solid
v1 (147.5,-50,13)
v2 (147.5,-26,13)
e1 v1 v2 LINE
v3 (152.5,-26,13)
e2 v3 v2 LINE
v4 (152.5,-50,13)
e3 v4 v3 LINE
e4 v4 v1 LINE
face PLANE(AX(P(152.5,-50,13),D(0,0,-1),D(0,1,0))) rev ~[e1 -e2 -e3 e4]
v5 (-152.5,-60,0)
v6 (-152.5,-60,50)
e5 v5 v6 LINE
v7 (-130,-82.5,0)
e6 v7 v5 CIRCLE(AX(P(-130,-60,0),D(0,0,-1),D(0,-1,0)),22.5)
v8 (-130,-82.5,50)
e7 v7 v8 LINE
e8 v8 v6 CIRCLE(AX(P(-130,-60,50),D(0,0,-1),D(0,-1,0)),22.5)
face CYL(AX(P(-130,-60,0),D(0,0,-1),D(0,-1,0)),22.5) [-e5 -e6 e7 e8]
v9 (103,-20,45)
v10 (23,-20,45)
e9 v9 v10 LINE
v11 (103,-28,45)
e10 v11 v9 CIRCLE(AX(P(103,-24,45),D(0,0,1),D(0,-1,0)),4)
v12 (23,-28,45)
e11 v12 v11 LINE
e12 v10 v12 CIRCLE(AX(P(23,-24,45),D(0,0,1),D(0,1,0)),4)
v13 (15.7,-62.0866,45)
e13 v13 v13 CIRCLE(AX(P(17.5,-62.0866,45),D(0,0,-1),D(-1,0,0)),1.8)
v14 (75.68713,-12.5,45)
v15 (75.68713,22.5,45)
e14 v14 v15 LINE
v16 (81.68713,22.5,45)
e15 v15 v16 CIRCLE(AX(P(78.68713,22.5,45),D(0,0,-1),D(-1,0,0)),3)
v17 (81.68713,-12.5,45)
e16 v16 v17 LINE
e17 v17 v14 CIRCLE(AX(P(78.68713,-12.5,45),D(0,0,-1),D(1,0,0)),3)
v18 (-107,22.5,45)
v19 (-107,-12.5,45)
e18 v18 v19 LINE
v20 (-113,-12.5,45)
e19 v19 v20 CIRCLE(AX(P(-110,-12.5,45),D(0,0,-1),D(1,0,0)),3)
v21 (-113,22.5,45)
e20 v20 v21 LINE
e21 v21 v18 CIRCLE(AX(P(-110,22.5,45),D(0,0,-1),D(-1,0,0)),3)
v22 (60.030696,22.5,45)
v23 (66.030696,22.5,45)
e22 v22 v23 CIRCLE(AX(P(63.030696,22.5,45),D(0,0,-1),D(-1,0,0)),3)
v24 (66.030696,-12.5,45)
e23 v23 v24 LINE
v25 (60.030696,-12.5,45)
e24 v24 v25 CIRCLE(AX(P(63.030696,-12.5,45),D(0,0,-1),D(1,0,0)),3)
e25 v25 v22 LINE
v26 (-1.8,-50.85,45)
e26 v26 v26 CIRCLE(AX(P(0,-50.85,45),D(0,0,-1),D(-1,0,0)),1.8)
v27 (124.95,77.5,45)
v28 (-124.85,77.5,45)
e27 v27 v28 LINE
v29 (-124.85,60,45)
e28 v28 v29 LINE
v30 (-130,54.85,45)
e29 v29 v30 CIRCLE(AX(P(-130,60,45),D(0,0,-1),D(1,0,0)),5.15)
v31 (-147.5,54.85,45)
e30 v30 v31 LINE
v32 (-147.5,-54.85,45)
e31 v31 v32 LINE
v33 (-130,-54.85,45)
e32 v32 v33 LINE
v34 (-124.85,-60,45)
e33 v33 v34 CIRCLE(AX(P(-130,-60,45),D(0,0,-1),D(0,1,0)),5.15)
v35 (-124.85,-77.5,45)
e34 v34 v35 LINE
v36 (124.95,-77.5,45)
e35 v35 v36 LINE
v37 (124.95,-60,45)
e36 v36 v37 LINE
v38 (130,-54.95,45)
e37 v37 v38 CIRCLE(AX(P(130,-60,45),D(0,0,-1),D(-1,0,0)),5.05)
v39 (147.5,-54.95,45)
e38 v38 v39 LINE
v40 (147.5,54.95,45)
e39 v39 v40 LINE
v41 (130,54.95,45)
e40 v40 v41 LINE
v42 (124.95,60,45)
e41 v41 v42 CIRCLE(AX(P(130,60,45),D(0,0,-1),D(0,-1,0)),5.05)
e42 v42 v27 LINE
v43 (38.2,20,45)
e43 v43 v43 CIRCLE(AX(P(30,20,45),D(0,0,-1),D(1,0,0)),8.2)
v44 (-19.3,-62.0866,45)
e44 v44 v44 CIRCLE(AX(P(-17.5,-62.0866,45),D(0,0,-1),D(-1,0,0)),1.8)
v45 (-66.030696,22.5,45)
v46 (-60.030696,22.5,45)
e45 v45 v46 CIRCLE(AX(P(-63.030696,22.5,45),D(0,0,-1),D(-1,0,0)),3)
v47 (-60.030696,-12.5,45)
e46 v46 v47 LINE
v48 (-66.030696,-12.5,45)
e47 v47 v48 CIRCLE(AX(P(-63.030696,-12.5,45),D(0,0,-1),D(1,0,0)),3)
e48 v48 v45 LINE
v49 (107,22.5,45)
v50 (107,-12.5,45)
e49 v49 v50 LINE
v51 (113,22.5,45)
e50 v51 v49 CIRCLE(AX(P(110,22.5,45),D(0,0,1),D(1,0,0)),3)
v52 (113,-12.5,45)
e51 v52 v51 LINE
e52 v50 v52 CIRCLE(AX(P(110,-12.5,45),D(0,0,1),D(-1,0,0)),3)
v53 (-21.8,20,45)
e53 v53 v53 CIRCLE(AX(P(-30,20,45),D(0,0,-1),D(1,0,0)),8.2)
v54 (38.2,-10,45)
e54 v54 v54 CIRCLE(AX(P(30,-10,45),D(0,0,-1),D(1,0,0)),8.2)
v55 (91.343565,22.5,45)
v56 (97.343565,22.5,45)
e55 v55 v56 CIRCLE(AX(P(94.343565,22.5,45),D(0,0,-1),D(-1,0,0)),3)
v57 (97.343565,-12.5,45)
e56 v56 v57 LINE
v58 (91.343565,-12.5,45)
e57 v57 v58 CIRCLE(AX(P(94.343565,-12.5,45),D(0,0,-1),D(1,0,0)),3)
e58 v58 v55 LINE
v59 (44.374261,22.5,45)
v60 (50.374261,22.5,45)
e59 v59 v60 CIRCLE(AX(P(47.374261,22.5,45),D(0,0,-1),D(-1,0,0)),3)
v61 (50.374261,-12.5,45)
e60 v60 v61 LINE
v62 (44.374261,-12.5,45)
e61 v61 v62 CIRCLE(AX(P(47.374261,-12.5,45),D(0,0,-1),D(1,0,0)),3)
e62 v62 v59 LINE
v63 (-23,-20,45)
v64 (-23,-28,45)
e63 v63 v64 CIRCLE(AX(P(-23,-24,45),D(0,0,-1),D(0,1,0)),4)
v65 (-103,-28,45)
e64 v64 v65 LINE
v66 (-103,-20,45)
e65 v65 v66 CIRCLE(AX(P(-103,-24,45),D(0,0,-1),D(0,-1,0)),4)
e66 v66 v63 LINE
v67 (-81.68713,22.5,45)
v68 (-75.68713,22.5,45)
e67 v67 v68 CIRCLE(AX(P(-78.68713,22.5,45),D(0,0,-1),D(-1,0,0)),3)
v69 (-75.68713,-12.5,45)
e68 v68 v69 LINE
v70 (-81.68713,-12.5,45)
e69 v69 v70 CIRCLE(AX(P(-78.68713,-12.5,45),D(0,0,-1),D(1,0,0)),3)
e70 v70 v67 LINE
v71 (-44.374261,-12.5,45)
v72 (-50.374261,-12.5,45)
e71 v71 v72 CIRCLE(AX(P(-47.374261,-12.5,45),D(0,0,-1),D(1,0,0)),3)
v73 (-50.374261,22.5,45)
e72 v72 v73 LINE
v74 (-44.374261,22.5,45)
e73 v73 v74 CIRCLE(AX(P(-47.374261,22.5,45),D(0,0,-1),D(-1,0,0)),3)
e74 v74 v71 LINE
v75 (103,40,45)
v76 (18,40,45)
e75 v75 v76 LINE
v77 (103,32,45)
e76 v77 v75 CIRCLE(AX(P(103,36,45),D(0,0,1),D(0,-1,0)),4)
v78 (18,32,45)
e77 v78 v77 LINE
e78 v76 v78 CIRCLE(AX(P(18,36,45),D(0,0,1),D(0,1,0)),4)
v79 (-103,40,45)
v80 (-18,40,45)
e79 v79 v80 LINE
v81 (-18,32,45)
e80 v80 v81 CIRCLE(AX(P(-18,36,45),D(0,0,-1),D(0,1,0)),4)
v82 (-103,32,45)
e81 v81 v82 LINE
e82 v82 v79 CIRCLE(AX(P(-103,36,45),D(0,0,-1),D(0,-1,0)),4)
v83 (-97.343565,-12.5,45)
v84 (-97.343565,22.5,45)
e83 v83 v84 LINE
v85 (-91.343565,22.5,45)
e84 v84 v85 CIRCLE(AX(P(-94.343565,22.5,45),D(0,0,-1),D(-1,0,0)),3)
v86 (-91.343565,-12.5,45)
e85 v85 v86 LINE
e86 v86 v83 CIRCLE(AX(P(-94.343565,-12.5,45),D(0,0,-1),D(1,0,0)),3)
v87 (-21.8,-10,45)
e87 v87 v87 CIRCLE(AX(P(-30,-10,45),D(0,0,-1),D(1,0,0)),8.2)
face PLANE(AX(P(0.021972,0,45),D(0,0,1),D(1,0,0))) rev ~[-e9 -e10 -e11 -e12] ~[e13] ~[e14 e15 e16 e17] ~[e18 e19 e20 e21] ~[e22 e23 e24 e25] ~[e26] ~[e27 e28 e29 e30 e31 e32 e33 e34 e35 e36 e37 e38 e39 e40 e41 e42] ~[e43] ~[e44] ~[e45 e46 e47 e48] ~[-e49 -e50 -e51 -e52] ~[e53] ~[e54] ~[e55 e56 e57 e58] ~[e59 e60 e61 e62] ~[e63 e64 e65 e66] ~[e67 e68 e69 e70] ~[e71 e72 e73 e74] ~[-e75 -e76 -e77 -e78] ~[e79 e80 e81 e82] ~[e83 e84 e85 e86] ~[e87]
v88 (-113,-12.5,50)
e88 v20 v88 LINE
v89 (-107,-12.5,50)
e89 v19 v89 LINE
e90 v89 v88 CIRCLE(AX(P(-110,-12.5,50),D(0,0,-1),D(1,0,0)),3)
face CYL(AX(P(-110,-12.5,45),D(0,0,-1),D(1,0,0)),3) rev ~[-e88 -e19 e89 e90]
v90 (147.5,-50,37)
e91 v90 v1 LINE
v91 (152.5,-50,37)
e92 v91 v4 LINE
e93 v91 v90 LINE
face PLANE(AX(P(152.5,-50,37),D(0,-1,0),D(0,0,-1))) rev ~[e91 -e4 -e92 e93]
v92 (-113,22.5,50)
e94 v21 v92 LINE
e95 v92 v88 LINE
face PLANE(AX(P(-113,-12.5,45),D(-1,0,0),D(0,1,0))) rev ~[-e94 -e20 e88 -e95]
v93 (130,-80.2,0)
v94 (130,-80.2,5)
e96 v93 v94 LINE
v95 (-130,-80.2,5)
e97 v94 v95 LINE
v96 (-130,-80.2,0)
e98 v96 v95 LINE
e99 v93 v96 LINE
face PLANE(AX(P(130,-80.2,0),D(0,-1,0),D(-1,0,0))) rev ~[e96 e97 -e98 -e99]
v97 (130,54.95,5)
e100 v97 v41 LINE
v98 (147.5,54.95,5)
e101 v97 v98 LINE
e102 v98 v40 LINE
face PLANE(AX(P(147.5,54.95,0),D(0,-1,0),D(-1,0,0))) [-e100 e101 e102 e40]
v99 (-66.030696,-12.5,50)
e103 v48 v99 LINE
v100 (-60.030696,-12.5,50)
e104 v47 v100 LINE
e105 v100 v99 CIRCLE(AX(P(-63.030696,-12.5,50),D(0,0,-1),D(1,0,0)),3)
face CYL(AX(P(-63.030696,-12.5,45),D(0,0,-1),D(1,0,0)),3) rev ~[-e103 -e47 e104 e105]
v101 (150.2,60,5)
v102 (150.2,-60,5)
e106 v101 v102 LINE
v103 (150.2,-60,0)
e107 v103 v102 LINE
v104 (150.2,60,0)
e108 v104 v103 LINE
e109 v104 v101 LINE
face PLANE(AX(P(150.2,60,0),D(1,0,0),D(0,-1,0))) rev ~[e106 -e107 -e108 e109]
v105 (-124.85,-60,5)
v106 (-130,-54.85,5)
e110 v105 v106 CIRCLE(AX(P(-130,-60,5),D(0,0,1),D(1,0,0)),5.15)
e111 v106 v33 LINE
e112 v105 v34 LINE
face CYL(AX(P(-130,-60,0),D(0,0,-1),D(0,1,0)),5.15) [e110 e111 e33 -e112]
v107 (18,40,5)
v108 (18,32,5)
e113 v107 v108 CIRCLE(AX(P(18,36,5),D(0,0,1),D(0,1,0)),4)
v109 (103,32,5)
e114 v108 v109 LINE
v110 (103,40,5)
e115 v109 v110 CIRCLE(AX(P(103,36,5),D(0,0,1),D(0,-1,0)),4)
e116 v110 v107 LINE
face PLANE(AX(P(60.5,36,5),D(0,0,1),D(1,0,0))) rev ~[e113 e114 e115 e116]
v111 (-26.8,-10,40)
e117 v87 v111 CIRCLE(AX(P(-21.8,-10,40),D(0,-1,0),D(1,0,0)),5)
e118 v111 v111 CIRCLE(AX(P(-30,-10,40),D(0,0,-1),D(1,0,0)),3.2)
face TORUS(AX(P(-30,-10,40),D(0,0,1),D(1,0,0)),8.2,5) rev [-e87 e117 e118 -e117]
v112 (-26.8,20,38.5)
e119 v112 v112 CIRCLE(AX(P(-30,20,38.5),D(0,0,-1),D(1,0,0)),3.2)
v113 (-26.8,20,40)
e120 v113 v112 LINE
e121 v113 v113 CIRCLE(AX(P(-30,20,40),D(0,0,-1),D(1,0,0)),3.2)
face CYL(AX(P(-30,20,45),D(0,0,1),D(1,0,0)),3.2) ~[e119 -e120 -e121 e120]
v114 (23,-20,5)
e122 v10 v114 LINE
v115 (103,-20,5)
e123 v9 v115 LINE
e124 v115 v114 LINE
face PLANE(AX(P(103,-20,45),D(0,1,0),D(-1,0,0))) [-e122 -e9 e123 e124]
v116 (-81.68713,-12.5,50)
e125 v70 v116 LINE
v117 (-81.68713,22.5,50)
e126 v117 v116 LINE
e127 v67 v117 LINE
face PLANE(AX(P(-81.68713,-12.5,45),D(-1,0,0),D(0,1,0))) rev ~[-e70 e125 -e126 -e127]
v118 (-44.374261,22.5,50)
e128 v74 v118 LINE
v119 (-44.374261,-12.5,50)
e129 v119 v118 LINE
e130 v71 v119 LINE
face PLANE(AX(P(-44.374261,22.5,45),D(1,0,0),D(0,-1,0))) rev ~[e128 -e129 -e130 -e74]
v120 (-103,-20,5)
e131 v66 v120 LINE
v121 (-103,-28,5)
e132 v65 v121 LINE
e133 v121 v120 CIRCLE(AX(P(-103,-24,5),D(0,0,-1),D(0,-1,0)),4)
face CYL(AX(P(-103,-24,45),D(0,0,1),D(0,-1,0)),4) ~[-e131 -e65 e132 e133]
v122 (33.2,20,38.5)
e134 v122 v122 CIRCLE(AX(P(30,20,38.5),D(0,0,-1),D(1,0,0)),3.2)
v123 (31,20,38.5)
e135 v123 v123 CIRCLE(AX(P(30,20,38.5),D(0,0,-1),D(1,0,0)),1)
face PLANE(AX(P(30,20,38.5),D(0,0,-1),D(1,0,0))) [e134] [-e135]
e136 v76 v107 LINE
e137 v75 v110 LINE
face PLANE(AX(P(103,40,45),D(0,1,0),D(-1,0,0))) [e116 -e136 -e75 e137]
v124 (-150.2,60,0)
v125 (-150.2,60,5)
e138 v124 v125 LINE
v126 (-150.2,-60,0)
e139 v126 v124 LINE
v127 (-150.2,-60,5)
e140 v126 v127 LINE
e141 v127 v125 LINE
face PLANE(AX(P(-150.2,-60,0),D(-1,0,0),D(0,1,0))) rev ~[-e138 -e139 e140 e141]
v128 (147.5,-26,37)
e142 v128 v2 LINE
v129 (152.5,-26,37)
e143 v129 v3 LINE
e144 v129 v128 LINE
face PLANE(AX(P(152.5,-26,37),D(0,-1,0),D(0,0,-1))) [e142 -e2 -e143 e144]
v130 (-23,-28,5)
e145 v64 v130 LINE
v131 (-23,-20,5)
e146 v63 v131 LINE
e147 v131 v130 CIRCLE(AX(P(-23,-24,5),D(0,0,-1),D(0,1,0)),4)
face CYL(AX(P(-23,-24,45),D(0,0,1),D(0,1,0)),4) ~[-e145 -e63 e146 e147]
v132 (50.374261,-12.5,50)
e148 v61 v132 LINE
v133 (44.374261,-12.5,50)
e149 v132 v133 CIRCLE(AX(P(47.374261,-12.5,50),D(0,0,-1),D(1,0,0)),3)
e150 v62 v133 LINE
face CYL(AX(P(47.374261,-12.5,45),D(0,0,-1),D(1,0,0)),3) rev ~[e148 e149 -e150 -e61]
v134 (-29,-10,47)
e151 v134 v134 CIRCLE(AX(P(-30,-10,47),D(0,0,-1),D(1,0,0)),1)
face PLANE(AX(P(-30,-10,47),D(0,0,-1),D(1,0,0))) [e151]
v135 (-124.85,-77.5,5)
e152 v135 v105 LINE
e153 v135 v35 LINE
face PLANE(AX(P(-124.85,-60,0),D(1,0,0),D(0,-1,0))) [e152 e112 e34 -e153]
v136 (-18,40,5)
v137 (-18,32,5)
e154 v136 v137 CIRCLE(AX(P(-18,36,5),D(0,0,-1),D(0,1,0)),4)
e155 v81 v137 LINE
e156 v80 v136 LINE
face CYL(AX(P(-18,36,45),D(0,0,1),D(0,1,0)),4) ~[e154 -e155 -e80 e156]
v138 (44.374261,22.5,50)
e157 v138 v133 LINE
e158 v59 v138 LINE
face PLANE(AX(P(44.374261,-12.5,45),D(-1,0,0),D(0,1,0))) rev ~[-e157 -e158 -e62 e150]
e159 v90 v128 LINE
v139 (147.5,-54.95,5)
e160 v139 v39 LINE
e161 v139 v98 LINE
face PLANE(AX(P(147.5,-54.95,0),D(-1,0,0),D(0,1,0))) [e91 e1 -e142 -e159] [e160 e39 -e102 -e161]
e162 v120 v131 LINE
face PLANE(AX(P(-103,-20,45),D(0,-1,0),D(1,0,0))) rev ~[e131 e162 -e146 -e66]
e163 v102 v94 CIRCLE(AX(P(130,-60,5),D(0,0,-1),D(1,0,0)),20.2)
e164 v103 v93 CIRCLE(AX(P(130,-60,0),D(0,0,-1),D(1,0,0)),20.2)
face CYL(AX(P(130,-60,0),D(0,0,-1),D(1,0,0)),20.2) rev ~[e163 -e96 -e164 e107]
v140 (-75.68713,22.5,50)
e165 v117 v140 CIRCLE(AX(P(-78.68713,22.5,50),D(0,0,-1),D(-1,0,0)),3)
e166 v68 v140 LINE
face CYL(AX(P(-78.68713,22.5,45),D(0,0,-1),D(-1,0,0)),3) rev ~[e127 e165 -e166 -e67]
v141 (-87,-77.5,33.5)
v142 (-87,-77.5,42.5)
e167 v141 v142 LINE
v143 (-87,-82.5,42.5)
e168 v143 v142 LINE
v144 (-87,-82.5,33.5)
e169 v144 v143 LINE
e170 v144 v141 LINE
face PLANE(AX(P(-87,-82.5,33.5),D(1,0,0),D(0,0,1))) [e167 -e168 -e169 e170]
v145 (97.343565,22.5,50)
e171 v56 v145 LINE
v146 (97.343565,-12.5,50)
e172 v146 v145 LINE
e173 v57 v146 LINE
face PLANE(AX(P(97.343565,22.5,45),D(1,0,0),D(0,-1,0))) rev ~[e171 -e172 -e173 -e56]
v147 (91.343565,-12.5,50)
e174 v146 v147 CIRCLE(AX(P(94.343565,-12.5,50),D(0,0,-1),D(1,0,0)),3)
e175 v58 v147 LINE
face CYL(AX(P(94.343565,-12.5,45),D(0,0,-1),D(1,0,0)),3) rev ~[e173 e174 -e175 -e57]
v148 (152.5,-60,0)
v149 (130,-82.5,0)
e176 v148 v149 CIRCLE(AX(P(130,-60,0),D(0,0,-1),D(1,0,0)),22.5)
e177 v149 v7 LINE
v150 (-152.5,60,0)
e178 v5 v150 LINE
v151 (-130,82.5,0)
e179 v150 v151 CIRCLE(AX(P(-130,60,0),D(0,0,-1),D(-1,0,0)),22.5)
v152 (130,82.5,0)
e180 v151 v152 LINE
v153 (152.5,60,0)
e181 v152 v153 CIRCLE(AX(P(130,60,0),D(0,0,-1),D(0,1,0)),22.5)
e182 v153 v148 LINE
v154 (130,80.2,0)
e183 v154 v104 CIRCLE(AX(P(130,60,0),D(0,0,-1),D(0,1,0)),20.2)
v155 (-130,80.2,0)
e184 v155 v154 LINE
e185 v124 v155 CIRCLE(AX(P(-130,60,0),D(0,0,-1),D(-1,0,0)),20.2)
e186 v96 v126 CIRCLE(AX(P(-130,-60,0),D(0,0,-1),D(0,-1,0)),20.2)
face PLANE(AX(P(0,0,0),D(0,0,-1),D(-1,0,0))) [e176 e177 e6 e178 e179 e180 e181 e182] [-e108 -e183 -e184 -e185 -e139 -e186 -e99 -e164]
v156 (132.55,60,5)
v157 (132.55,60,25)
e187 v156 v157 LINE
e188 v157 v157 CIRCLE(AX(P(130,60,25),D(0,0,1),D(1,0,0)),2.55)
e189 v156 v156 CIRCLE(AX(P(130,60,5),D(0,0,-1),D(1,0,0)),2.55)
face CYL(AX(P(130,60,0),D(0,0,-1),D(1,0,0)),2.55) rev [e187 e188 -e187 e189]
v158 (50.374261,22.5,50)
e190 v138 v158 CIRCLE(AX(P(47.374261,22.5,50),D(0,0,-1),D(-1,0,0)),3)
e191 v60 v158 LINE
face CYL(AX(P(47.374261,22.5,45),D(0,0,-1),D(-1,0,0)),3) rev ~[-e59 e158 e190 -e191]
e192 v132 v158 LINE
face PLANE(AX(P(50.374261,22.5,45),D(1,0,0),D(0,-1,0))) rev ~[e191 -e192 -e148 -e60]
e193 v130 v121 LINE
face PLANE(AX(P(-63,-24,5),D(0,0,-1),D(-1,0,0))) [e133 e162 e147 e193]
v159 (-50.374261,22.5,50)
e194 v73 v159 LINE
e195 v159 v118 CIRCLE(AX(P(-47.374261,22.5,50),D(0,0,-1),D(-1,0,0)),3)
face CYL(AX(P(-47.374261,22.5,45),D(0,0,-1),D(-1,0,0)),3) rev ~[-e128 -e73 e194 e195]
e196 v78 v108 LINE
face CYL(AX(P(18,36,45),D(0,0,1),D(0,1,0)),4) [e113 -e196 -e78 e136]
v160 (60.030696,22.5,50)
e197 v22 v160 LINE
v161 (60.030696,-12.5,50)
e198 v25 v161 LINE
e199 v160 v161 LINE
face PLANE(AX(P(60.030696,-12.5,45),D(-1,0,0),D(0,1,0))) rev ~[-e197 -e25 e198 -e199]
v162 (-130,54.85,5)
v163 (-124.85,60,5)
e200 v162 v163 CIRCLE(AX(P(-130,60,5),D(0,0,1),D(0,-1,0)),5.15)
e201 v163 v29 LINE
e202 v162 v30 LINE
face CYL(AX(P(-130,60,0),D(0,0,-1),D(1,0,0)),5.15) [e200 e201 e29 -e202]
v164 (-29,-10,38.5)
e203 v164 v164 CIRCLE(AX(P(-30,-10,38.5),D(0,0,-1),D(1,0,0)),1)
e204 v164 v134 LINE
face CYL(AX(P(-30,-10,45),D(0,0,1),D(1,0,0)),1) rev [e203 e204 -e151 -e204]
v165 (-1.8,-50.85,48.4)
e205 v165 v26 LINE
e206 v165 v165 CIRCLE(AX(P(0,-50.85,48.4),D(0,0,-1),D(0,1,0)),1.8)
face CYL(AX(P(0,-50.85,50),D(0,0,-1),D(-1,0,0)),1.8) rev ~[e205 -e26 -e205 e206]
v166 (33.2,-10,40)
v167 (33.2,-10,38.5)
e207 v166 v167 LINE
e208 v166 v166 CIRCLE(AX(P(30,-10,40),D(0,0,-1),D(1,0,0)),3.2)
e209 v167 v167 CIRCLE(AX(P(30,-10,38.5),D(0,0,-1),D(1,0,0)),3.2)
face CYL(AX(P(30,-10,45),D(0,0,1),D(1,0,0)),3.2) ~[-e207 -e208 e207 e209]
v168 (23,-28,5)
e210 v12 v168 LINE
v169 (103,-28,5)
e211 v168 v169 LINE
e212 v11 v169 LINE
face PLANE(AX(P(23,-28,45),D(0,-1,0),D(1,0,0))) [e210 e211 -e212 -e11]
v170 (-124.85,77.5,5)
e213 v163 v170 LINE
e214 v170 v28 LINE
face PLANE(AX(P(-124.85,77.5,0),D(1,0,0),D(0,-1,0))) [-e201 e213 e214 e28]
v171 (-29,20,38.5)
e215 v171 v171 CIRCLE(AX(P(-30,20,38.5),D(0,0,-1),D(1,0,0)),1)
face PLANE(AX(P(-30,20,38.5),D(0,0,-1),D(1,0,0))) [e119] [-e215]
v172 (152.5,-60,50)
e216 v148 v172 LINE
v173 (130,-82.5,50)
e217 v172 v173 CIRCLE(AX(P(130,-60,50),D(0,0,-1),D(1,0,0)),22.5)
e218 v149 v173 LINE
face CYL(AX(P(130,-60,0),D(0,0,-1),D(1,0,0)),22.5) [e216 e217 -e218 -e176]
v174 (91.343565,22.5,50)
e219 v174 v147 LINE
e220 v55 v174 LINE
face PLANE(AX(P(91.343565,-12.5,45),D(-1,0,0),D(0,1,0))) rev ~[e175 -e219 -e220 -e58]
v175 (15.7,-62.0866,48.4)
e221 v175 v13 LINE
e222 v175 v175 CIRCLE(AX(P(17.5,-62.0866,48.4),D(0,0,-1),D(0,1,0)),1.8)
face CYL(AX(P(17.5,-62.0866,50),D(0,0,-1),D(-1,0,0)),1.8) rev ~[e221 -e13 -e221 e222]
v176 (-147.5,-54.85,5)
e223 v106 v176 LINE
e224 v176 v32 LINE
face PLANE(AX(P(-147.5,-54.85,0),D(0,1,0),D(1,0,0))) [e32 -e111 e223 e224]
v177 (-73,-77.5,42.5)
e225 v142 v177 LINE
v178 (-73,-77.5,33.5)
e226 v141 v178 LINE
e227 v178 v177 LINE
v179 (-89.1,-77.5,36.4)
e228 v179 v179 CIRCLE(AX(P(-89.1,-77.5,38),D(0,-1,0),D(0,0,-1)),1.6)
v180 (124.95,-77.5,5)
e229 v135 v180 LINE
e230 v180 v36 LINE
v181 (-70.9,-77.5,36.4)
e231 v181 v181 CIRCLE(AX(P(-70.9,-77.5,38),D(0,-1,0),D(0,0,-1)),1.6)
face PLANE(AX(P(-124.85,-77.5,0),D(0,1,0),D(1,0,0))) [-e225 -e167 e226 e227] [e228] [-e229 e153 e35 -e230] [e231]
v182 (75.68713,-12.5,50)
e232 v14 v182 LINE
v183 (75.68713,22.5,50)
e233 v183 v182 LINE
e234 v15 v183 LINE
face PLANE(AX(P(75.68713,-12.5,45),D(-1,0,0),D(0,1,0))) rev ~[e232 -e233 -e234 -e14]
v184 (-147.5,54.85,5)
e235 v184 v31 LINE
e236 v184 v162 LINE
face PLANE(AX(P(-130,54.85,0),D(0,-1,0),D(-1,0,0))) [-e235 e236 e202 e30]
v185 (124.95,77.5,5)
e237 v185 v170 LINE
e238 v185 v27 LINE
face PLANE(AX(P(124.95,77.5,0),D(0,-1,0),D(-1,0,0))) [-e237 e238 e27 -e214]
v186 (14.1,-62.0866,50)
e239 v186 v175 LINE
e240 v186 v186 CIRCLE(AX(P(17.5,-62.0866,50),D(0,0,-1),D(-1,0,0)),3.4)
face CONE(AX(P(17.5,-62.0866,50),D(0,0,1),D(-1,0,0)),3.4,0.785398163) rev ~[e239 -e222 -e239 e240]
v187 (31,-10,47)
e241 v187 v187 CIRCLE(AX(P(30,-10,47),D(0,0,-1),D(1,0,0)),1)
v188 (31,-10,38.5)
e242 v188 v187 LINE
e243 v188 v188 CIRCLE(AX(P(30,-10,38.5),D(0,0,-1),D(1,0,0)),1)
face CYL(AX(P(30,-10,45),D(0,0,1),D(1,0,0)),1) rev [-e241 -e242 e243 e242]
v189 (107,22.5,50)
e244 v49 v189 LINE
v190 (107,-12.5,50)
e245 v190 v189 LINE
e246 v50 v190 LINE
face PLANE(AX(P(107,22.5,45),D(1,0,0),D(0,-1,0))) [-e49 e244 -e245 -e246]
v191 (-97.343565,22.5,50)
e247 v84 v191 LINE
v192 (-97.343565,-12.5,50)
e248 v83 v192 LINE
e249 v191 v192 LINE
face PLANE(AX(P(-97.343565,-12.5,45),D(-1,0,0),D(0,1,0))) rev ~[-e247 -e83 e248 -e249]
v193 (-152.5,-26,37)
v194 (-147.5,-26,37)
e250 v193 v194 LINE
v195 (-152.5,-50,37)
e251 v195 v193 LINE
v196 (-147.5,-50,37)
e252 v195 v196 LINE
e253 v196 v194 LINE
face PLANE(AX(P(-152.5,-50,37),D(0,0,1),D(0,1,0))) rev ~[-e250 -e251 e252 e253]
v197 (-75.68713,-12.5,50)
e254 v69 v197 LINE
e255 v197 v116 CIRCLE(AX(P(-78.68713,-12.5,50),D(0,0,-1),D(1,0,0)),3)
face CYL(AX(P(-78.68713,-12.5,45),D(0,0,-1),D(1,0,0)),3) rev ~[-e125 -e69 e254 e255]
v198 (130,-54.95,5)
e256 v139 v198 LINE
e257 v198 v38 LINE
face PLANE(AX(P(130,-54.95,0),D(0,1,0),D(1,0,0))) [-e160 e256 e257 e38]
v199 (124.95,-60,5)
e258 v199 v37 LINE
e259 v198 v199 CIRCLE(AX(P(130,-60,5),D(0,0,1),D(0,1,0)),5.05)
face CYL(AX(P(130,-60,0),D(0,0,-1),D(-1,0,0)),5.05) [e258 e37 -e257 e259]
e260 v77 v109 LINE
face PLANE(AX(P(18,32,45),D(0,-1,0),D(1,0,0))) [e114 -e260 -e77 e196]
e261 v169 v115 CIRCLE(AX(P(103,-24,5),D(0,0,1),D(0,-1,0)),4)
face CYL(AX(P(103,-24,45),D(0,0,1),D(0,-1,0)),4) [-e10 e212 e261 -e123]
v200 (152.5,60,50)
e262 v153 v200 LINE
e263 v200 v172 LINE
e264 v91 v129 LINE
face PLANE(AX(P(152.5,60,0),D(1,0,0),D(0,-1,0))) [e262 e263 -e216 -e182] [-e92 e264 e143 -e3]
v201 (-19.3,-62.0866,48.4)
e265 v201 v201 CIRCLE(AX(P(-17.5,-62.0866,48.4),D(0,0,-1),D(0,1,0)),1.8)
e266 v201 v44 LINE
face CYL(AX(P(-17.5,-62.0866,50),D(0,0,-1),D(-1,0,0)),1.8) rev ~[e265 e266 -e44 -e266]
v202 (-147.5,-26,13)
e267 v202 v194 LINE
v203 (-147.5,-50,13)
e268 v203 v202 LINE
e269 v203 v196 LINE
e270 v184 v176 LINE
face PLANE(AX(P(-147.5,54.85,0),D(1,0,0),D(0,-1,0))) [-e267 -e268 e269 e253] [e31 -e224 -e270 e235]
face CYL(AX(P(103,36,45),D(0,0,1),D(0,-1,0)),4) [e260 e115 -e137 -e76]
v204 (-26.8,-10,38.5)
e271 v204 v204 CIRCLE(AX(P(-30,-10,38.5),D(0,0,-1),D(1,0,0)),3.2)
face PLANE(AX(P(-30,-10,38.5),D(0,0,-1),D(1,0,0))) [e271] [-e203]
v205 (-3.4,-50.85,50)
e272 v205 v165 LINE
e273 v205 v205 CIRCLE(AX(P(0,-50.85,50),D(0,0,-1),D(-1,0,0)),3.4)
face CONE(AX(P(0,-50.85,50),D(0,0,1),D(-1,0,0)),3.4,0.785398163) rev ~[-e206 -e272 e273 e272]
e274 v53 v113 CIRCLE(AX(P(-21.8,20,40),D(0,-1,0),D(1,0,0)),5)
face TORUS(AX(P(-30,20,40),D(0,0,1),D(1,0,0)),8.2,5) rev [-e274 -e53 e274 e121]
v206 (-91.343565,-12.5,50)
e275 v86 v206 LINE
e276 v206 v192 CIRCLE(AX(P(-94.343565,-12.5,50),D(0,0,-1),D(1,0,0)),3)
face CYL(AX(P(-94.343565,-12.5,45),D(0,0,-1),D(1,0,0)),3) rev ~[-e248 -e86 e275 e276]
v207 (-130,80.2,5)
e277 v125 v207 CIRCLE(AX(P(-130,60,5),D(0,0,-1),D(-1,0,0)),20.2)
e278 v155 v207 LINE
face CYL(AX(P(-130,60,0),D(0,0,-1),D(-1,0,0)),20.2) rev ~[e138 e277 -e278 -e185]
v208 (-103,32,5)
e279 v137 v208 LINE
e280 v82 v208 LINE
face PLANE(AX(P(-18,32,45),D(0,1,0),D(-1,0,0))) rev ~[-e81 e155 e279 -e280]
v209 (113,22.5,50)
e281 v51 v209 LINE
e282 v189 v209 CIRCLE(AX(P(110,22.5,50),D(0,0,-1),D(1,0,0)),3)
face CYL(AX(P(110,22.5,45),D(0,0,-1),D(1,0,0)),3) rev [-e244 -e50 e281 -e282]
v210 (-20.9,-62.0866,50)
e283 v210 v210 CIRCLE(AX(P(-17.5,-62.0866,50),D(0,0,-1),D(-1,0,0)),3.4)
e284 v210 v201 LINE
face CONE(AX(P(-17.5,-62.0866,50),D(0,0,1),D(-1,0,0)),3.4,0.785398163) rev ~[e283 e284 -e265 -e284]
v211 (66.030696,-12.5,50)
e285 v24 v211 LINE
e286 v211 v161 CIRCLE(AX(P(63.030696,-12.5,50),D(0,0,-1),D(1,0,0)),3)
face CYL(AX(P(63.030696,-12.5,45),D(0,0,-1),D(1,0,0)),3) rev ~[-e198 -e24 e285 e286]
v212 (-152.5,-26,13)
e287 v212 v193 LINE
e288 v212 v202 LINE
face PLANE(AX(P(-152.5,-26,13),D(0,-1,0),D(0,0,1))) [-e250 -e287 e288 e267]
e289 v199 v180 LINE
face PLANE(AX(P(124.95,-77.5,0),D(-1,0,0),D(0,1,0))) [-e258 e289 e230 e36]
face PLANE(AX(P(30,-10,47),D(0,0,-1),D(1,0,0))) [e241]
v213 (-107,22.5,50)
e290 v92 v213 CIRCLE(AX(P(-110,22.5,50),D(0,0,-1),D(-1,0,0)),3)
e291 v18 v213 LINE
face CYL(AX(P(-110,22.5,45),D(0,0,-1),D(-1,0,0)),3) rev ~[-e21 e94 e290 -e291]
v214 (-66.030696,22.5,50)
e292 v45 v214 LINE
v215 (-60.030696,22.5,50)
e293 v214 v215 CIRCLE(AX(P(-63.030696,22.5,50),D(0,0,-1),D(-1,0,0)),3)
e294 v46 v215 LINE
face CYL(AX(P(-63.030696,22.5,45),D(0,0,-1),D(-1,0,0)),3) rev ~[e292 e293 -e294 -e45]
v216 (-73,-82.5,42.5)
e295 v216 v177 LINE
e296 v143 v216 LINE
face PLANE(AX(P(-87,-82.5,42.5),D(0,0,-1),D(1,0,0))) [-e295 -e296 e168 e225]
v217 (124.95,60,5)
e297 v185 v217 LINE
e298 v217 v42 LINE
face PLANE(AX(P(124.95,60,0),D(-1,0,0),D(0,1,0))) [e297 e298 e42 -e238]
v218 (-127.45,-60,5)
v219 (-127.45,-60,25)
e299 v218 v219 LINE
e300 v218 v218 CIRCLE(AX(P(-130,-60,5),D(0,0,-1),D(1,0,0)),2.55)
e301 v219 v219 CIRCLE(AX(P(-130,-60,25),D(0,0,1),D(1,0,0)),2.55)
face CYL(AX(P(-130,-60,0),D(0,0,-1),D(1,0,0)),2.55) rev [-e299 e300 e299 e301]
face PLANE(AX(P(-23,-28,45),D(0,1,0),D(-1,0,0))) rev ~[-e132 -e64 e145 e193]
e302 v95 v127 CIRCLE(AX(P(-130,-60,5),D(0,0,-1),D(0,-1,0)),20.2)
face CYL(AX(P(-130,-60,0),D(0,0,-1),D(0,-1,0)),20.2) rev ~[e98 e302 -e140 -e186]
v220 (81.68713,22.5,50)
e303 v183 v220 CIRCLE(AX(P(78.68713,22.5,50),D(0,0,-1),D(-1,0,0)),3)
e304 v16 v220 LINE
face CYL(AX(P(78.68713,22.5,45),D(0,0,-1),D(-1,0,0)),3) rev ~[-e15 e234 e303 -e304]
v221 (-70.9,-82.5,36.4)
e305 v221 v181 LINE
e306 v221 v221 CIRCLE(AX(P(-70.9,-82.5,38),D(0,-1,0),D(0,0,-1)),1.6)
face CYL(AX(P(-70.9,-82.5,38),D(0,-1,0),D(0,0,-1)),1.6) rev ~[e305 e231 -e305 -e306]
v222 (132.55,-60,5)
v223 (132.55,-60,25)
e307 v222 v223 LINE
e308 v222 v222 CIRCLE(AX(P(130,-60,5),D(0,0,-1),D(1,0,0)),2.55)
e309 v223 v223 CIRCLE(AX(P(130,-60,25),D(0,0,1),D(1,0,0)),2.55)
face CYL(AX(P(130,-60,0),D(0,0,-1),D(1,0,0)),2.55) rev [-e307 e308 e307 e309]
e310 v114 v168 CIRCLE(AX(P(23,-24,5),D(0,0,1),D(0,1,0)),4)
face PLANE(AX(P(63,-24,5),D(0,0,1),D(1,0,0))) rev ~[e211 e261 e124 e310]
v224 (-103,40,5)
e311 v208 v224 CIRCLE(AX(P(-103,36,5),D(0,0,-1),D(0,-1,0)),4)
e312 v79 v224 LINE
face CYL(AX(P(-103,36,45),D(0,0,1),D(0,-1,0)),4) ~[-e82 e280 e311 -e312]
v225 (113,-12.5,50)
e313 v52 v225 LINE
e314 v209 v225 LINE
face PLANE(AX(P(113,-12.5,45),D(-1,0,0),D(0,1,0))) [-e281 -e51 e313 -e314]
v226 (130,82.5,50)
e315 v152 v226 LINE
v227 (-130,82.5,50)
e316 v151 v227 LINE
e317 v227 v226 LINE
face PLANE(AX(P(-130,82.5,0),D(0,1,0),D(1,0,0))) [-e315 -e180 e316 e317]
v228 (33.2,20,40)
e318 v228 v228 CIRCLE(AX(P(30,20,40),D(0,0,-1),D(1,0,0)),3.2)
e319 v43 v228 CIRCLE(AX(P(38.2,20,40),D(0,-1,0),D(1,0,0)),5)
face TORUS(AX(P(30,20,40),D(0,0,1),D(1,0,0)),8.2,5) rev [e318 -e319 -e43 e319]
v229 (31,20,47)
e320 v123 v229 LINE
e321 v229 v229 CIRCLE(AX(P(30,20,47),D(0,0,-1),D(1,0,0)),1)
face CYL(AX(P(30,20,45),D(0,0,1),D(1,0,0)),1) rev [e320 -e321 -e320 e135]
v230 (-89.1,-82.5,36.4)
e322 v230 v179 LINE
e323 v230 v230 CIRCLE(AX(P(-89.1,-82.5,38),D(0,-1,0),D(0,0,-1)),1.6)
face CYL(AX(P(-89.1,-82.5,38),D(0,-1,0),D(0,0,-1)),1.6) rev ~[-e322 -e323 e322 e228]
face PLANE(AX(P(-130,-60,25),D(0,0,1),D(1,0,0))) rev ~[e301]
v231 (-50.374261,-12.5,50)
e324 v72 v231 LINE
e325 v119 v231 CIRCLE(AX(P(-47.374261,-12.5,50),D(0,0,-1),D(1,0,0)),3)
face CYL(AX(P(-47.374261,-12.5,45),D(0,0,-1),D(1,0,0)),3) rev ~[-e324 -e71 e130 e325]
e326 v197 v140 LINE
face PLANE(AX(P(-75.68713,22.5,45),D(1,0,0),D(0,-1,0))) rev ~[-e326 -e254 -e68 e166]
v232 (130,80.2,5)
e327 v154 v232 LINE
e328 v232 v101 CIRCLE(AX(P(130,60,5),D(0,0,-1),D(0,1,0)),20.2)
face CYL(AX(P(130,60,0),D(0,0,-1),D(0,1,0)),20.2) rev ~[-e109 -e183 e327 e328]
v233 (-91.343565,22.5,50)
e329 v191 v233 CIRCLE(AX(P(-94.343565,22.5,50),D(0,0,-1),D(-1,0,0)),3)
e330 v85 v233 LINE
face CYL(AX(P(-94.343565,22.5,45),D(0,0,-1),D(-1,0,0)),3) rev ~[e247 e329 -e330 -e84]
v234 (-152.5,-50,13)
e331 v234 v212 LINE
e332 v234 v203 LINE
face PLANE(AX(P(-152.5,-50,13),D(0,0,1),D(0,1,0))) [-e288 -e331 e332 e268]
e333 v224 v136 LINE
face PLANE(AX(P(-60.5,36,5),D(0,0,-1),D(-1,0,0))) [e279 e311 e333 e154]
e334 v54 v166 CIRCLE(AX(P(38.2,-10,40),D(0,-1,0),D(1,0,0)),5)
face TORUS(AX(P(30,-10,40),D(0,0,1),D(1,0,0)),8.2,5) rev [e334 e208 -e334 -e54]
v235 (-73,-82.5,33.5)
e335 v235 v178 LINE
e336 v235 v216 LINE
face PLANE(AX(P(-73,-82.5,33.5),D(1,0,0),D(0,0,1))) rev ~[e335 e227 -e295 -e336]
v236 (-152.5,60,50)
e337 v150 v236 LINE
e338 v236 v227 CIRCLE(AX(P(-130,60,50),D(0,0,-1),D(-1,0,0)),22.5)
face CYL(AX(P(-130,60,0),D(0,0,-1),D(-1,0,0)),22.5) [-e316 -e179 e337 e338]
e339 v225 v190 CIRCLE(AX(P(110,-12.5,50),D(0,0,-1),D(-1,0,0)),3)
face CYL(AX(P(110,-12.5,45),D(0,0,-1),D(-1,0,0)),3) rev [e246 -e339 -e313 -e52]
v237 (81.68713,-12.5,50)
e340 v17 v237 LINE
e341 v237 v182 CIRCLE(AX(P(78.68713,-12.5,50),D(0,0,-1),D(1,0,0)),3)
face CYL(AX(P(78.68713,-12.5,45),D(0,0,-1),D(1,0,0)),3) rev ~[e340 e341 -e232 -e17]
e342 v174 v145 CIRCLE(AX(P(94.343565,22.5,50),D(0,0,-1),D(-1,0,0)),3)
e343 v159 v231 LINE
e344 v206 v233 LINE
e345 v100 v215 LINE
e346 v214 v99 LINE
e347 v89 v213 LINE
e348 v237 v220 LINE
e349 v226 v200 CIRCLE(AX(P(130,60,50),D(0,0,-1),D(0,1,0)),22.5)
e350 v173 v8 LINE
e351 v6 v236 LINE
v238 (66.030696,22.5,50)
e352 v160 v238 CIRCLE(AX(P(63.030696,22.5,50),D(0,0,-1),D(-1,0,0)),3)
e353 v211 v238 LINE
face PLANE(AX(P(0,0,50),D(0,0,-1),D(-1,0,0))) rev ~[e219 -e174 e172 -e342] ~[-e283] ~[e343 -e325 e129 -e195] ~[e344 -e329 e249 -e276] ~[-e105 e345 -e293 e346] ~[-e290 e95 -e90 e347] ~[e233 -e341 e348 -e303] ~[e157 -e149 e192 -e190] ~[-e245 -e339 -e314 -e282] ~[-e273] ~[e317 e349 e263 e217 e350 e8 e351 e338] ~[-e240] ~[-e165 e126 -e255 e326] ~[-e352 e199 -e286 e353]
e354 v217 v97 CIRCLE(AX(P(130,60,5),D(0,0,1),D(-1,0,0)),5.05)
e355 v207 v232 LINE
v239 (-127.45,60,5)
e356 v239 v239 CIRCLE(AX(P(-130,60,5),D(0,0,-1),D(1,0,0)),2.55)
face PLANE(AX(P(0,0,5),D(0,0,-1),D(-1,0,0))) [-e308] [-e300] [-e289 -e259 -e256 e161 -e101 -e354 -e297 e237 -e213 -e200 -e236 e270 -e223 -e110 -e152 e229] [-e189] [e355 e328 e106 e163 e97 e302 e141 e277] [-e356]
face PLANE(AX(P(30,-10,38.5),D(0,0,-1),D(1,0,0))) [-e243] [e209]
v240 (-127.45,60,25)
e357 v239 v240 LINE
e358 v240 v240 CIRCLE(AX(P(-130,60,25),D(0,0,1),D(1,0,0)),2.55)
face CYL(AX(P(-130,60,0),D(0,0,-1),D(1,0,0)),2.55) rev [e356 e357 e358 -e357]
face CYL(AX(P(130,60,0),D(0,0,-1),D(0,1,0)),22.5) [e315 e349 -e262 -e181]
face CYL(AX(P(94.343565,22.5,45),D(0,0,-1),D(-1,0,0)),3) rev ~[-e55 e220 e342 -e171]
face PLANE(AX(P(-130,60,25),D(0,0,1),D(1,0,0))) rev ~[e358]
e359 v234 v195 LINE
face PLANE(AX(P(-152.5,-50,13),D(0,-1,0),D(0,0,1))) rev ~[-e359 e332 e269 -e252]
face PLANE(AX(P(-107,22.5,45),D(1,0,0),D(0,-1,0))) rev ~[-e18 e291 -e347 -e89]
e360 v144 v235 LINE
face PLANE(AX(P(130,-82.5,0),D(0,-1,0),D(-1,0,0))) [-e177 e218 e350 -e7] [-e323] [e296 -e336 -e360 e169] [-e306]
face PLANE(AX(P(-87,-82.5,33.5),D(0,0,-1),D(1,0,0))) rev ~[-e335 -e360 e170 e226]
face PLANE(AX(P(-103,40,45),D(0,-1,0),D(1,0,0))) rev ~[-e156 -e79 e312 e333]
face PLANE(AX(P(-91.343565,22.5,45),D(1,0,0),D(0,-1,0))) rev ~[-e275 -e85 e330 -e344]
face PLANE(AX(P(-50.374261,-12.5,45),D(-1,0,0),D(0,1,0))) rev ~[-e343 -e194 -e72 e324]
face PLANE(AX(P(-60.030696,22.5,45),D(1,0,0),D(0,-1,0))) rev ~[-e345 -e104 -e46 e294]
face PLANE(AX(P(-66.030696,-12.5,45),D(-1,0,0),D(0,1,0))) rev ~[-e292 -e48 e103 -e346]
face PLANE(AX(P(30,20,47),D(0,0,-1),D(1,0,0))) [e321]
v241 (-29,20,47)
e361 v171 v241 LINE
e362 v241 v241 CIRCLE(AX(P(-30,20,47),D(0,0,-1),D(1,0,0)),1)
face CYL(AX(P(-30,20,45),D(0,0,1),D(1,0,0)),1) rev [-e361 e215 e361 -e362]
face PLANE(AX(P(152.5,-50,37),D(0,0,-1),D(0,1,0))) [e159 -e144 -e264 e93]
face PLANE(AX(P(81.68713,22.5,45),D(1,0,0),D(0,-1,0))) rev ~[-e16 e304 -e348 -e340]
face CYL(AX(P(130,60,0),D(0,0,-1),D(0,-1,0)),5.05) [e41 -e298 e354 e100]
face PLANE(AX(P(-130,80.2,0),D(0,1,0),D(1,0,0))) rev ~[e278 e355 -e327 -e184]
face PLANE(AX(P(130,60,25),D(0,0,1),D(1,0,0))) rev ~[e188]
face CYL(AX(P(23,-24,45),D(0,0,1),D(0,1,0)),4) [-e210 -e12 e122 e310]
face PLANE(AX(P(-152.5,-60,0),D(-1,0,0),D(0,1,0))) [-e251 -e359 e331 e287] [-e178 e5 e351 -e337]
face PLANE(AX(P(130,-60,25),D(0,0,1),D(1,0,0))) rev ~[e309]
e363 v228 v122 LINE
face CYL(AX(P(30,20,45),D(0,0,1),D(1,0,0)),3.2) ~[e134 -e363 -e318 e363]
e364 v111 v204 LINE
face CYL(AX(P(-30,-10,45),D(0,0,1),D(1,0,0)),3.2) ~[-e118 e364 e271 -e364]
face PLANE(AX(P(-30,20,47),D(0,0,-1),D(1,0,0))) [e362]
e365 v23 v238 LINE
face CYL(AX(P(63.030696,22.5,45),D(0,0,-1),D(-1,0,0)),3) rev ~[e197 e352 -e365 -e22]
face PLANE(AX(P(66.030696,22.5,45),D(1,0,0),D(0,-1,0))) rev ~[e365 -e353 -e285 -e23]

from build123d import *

# Parameters (mm, degrees)
EXTRUDE_1_DEPTH              = 50
CUT_EXTRUDE_1_DEPTH          = 45
CUT_EXTRUDE_2_DEPTH          = 5
CUT_EXTRUDE_3_DEPTH          = 5
SKETCH_1_7_R                 = 2.55
CUT_EXTRUDE_4_DEPTH          = 25
SKETCH_14_R                  = 1.6
SKETCH_14_W                  = 14
SKETCH_14_H                  = 9
USB_DEPTH                    = 5
SKETCH_16_W                  = 24
SKETCH_16_H                  = 24
CUT_EXTRUDE_12_DEPTH         = 5
SKETCH_18_W                  = 24
SKETCH_18_H                  = 24
CUT_EXTRUDE_13_DEPTH         = 5
EXTRUDE_2_DEPTH              = 40
SKETCH_29_5_R                = 3.2
SKETCH_29_5_R_2              = 1
EXTRUDE_5_DEPTH              = 6.5
CUT_EXTRUDE_START            = -2
SKETCH_29_R                  = 1
CUT_EXTRUDE_14_DEPTH         = 2
SKETCH_30_R                  = 1.6
CUT_EXTRUDE_21_DEPTH         = 5
HOLE_WIZARD_M3_1_D           = 3.6
HOLE_WIZARD_M3_1_CSINK_D     = 6.8
HOLE_WIZARD_M3_1_CSINK_ANGLE = 90
CUT_EXTRUDE_23_REACH         = 181.13
FILLET_1_R                   = 5


with BuildPart() as part:
    # 草图1 → 凸台-拉伸1 (new body)
    with BuildSketch(Plane.XY):
        with BuildLine():
            Line((-130, 82.5), (130, 82.5))
            ThreePointArc((130, 82.5), (145.909902577, 75.909902577), (152.5, 60))
            Line((152.5, 60), (152.5, -60))
            ThreePointArc((152.5, -60), (145.909902577, -75.909902577), (130, -82.5))
            Line((130, -82.5), (-130, -82.5))
            ThreePointArc((-130, -82.5), (-145.909902577, -75.909902577), (-152.5, -60))
            Line((-152.5, -60), (-152.5, 60))
            ThreePointArc((-152.5, 60), (-145.909902577, 75.909902577), (-130, 82.5))
        make_face()
    extrude(amount=EXTRUDE_1_DEPTH)

    # 草图1<4> → 切除-拉伸1 (cut)
    with BuildSketch(Plane.XY):
        with BuildLine():
            Line((124.95, 77.5), (-124.85, 77.5))
            Line((-124.85, 77.5), (-124.85, 60))
            ThreePointArc((-124.85, 60), (-126.358400077, 56.358400077), (-130, 54.85))
            Line((-130, 54.85), (-147.5, 54.85))
            Line((-147.5, 54.85), (-147.5, -54.85))
            Line((-147.5, -54.85), (-130, -54.85))
            ThreePointArc((-130, -54.85), (-126.358400077, -56.358400077), (-124.85, -60))
            Line((-124.85, -60), (-124.85, -77.5))
            Line((-124.85, -77.5), (124.95, -77.5))
            Line((124.95, -77.5), (124.95, -60))
            ThreePointArc((124.95, -60), (126.429110755, -56.429110755), (130, -54.95))
            Line((130, -54.95), (147.5, -54.95))
            Line((147.5, -54.95), (147.5, 54.95))
            Line((147.5, 54.95), (130, 54.95))
            ThreePointArc((130, 54.95), (126.429110755, 56.429110755), (124.95, 60))
            Line((124.95, 60), (124.95, 77.5))
        make_face()
    extrude(amount=CUT_EXTRUDE_1_DEPTH, mode=Mode.SUBTRACT)

    # 草图1<5> → 切除-拉伸2 (cut)
    with BuildSketch(Plane.XY):
        with BuildLine():
            ThreePointArc((-150.2, 60), (-144.28355698, 74.28355698), (-130, 80.2))
            Line((-130, 80.2), (130, 80.2))
            ThreePointArc((130, 80.2), (144.28355698, 74.28355698), (150.2, 60))
            Line((150.2, 60), (150.2, -60))
            ThreePointArc((150.2, -60), (144.28355698, -74.28355698), (130, -80.2))
            Line((130, -80.2), (-130, -80.2))
            ThreePointArc((-130, -80.2), (-144.28355698, -74.28355698), (-150.2, -60))
            Line((-150.2, -60), (-150.2, 60))
        make_face()
        with BuildLine():
            Line((-147.5, 60), (-147.5, -60))
            ThreePointArc((-147.5, -60), (-142.374368671, -72.374368671), (-130, -77.5))
            Line((-130, -77.5), (130, -77.5))
            ThreePointArc((130, -77.5), (142.374368671, -72.374368671), (147.5, -60))
            Line((147.5, -60), (147.5, 60))
            ThreePointArc((147.5, 60), (142.374368671, 72.374368671), (130, 77.5))
            Line((130, 77.5), (-130, 77.5))
            ThreePointArc((-130, 77.5), (-142.374368671, 72.374368671), (-147.5, 60))
        make_face(mode=Mode.SUBTRACT)
    extrude(amount=CUT_EXTRUDE_2_DEPTH, mode=Mode.SUBTRACT)

    # 草图1<6> → 切除-拉伸3 (cut)
    with BuildSketch(Plane.XY):
        with BuildLine():
            Line((-124.85, 77.5), (-130, 77.5))
            ThreePointArc((-130, 77.5), (-142.374368671, 72.374368671), (-147.5, 60))
            Line((-147.5, 60), (-147.5, 54.85))
            Line((-147.5, 54.85), (-130, 54.85))
            ThreePointArc((-130, 54.85), (-126.358400077, 56.358400077), (-124.85, 60))
            Line((-124.85, 60), (-124.85, 77.5))
        make_face()
        with BuildLine():
            Line((130, 77.5), (124.95, 77.5))
            Line((124.95, 77.5), (124.95, 60))
            ThreePointArc((124.95, 60), (126.429110755, 56.429110755), (130, 54.95))
            Line((130, 54.95), (147.5, 54.95))
            Line((147.5, 54.95), (147.5, 60))
            ThreePointArc((147.5, 60), (142.374368671, 72.374368671), (130, 77.5))
        make_face()
        with BuildLine():
            Line((-130, -54.85), (-147.5, -54.85))
            Line((-147.5, -54.85), (-147.5, -60))
            ThreePointArc((-147.5, -60), (-142.374368671, -72.374368671), (-130, -77.5))
            Line((-130, -77.5), (-124.85, -77.5))
            Line((-124.85, -77.5), (-124.85, -60))
            ThreePointArc((-124.85, -60), (-126.358400077, -56.358400077), (-130, -54.85))
        make_face()
        with BuildLine():
            Line((147.5, -60), (147.5, -54.95))
            Line((147.5, -54.95), (130, -54.95))
            ThreePointArc((130, -54.95), (126.429110755, -56.429110755), (124.95, -60))
            Line((124.95, -60), (124.95, -77.5))
            Line((124.95, -77.5), (130, -77.5))
            ThreePointArc((130, -77.5), (142.374368671, -72.374368671), (147.5, -60))
        make_face()
    extrude(amount=CUT_EXTRUDE_3_DEPTH, mode=Mode.SUBTRACT)

    # 草图1<7> → 切除-拉伸4 (cut)
    with BuildSketch(Plane.XY):
        with Locations((-130, -60)):
            Circle(SKETCH_1_7_R)
        with Locations((130, 60)):
            Circle(SKETCH_1_7_R)
        with Locations((130, -60)):
            Circle(SKETCH_1_7_R)
        with Locations((-130, 60)):
            Circle(SKETCH_1_7_R)
    extrude(amount=CUT_EXTRUDE_4_DEPTH, mode=Mode.SUBTRACT)

    # 草图14 → USB口 (cut)
    with BuildSketch(Plane.XZ.offset(82.5)):
        with Locations(Location((-70.9, 38, 0), (0, 0, 270))):
            Circle(SKETCH_14_R)
        with Locations(Location((-89.1, 38, 0), (0, 0, 270))):
            Circle(SKETCH_14_R)
        with Locations((-80, 38)):
            Rectangle(SKETCH_14_W, SKETCH_14_H)
    extrude(amount=-USB_DEPTH, mode=Mode.SUBTRACT)

    # 草图16 → 切除-拉伸12 (cut)
    with BuildSketch(Plane(origin=(152.5, 0, 0), x_dir=(0, 0, -1), z_dir=(1, 0, 0))):
        with Locations((-25, -38)):
            Rectangle(SKETCH_16_W, SKETCH_16_H)
    extrude(amount=-CUT_EXTRUDE_12_DEPTH, mode=Mode.SUBTRACT)

    # 草图18 → 切除-拉伸13 (cut)
    with BuildSketch(Plane.ZY.offset(152.5)):
        with Locations((25, -38)):
            Rectangle(SKETCH_18_W, SKETCH_18_H)
    extrude(amount=-CUT_EXTRUDE_13_DEPTH, mode=Mode.SUBTRACT)

    # 草图19 → 凸台-拉伸2 (add)
    with BuildSketch(Plane(origin=(0, 0, 45), x_dir=(-1, 0, 0), z_dir=(0, 0, -1))):
        with BuildLine():
            Line((-103, 40), (-18, 40))
            ThreePointArc((-18, 40), (-14, 36), (-18, 32))
            Line((-18, 32), (-103, 32))
            ThreePointArc((-103, 32), (-107, 36), (-103, 40))
        make_face()
        with BuildLine():
            Line((103, 40), (18, 40))
            ThreePointArc((18, 40), (14, 36), (18, 32))
            Line((18, 32), (103, 32))
            ThreePointArc((103, 32), (107, 36), (103, 40))
        make_face()
        with BuildLine():
            Line((-103, -20), (-23, -20))
            ThreePointArc((-23, -20), (-19, -24), (-23, -28))
            Line((-23, -28), (-103, -28))
            ThreePointArc((-103, -28), (-107, -24), (-103, -20))
        make_face()
        with BuildLine():
            Line((103, -20), (23, -20))
            ThreePointArc((23, -20), (19, -24), (23, -28))
            Line((23, -28), (103, -28))
            ThreePointArc((103, -28), (107, -24), (103, -20))
        make_face()
    extrude(amount=EXTRUDE_2_DEPTH)

    # 草图29<5> → 凸台-拉伸5 (add)
    # profile 1 of 4: a face of its own
    with BuildSketch(Plane(origin=(0, 0, 45), x_dir=(-1, 0, 0), z_dir=(0, 0, -1))):
        with Locations(Location((-30, 20, 0), (0, 0, 180))):
            Circle(SKETCH_29_5_R)
        with Locations(Location((-30, 20, 0), (0, 0, 180))):
            Circle(SKETCH_29_5_R_2, mode=Mode.SUBTRACT)
    # profile 2 of 4: a face of its own
    with BuildSketch(Plane(origin=(0, 0, 45), x_dir=(-1, 0, 0), z_dir=(0, 0, -1))):
        with Locations(Location((-30, -10, 0), (0, 0, 180))):
            Circle(SKETCH_29_5_R)
        with Locations(Location((-30, -10, 0), (0, 0, 180))):
            Circle(SKETCH_29_5_R_2, mode=Mode.SUBTRACT)
    # profile 3 of 4: a face of its own
    with BuildSketch(Plane(origin=(0, 0, 45), x_dir=(-1, 0, 0), z_dir=(0, 0, -1))):
        with Locations(Location((30, 20, 0), (0, 0, 180))):
            Circle(SKETCH_29_5_R)
        with Locations(Location((30, 20, 0), (0, 0, 180))):
            Circle(SKETCH_29_5_R_2, mode=Mode.SUBTRACT)
    # profile 4 of 4: a face of its own
    with BuildSketch(Plane(origin=(0, 0, 45), x_dir=(-1, 0, 0), z_dir=(0, 0, -1))):
        with Locations(Location((30, -10, 0), (0, 0, 180))):
            Circle(SKETCH_29_5_R)
        with Locations(Location((30, -10, 0), (0, 0, 180))):
            Circle(SKETCH_29_5_R_2, mode=Mode.SUBTRACT)
    extrude(amount=EXTRUDE_5_DEPTH)

    # 草图29 → 切除-拉伸14 (cut)
    with BuildSketch(Plane(origin=(0, 0, 45), x_dir=(-1, 0, 0), z_dir=(0, 0, -1)).offset(CUT_EXTRUDE_START)):
        with Locations(Location((-30, 20, 0), (0, 0, 180))):
            Circle(SKETCH_29_R)
        with Locations(Location((30, 20, 0), (0, 0, 180))):
            Circle(SKETCH_29_R)
        with Locations(Location((30, -10, 0), (0, 0, 180))):
            Circle(SKETCH_29_R)
        with Locations(Location((-30, -10, 0), (0, 0, 180))):
            Circle(SKETCH_29_R)
    extrude(amount=CUT_EXTRUDE_14_DEPTH, mode=Mode.SUBTRACT)

    # 草图30 → 切除-拉伸21 (cut)
    with BuildSketch(Plane(origin=(0, 0, 45), x_dir=(-1, 0, 0), z_dir=(0, 0, -1))):
        with Locations((17.5, -62.0866)):
            Circle(SKETCH_30_R)
        with Locations((0, -50.85)):
            Circle(SKETCH_30_R)
        with Locations((-17.5, -62.0866)):
            Circle(SKETCH_30_R)
    extrude(amount=-CUT_EXTRUDE_21_DEPTH, mode=Mode.SUBTRACT)

    # M3 平头机械螺钉的锥形沉头孔1 (through all)
    with Locations(Plane.XY.offset(50)):
        with Locations((17.5, -62.0866), (0, -50.85), (-17.5, -62.0866)):
            CounterSinkHole(HOLE_WIZARD_M3_1_D / 2, HOLE_WIZARD_M3_1_CSINK_D / 2, counter_sink_angle=HOLE_WIZARD_M3_1_CSINK_ANGLE)

    # 草图38 → 切除-拉伸23 (cut, up to next)
    with BuildSketch(Plane(origin=(0, 0, 45), x_dir=(-1, 0, 0), z_dir=(0, 0, -1)), mode=Mode.PRIVATE) as cut_extrude_23_sk1:
        with BuildLine():
            Line((-107, 22.5), (-107, -12.5))
            ThreePointArc((-107, -12.5), (-110, -15.5), (-113, -12.5))
            Line((-113, -12.5), (-113, 22.5))
            ThreePointArc((-113, 22.5), (-110, 25.5), (-107, 22.5))
        make_face()
    cut_extrude_23_tool1 = extrude(cut_extrude_23_sk1.sketch, amount=-CUT_EXTRUDE_23_REACH, mode=Mode.PRIVATE) & part.part
    # 草图38 → 切除-拉伸23 (cut, up to next)
    with BuildSketch(Plane(origin=(0, 0, 45), x_dir=(-1, 0, 0), z_dir=(0, 0, -1)), mode=Mode.PRIVATE) as cut_extrude_23_sk2:
        with BuildLine():
            Line((-97.343565249, 22.5), (-97.343565249, -12.5))
            ThreePointArc((-97.343565249, -12.5), (-94.343565249, -15.5), (-91.343565249, -12.5))
            Line((-91.343565249, -12.5), (-91.343565249, 22.5))
            ThreePointArc((-91.343565249, 22.5), (-94.343565249, 25.5), (-97.343565249, 22.5))
        make_face()
    cut_extrude_23_tool2 = extrude(cut_extrude_23_sk2.sketch, amount=-CUT_EXTRUDE_23_REACH, mode=Mode.PRIVATE) & part.part
    # 草图38 → 切除-拉伸23 (cut, up to next)
    with BuildSketch(Plane(origin=(0, 0, 45), x_dir=(-1, 0, 0), z_dir=(0, 0, -1)), mode=Mode.PRIVATE) as cut_extrude_23_sk3:
        with BuildLine():
            Line((-81.687130498, 22.5), (-81.687130498, -12.5))
            ThreePointArc((-81.687130498, -12.5), (-78.687130498, -15.5), (-75.687130498, -12.5))
            Line((-75.687130498, -12.5), (-75.687130498, 22.5))
            ThreePointArc((-75.687130498, 22.5), (-78.687130498, 25.5), (-81.687130498, 22.5))
        make_face()
    cut_extrude_23_tool3 = extrude(cut_extrude_23_sk3.sketch, amount=-CUT_EXTRUDE_23_REACH, mode=Mode.PRIVATE) & part.part
    # 草图38 → 切除-拉伸23 (cut, up to next)
    with BuildSketch(Plane(origin=(0, 0, 45), x_dir=(-1, 0, 0), z_dir=(0, 0, -1)), mode=Mode.PRIVATE) as cut_extrude_23_sk4:
        with BuildLine():
            Line((-66.030695747, 22.5), (-66.030695747, -12.5))
            ThreePointArc((-66.030695747, -12.5), (-63.030695747, -15.5), (-60.030695747, -12.5))
            Line((-60.030695747, -12.5), (-60.030695747, 22.5))
            ThreePointArc((-60.030695747, 22.5), (-63.030695747, 25.5), (-66.030695747, 22.5))
        make_face()
    cut_extrude_23_tool4 = extrude(cut_extrude_23_sk4.sketch, amount=-CUT_EXTRUDE_23_REACH, mode=Mode.PRIVATE) & part.part
    # 草图38 → 切除-拉伸23 (cut, up to next)
    with BuildSketch(Plane(origin=(0, 0, 45), x_dir=(-1, 0, 0), z_dir=(0, 0, -1)), mode=Mode.PRIVATE) as cut_extrude_23_sk5:
        with BuildLine():
            Line((-50.374260997, 22.5), (-50.374260997, -12.5))
            ThreePointArc((-50.374260997, -12.5), (-47.374260997, -15.5), (-44.374260997, -12.5))
            Line((-44.374260997, -12.5), (-44.374260997, 22.5))
            ThreePointArc((-44.374260997, 22.5), (-47.374260997, 25.5), (-50.374260997, 22.5))
        make_face()
    cut_extrude_23_tool5 = extrude(cut_extrude_23_sk5.sketch, amount=-CUT_EXTRUDE_23_REACH, mode=Mode.PRIVATE) & part.part
    # 草图38 → 切除-拉伸23 (cut, up to next)
    with BuildSketch(Plane(origin=(0, 0, 45), x_dir=(-1, 0, 0), z_dir=(0, 0, -1)), mode=Mode.PRIVATE) as cut_extrude_23_sk6:
        with BuildLine():
            Line((107, 22.5), (107, -12.5))
            ThreePointArc((107, -12.5), (110, -15.5), (113, -12.5))
            Line((113, -12.5), (113, 22.5))
            ThreePointArc((113, 22.5), (110, 25.5), (107, 22.5))
        make_face()
    cut_extrude_23_tool6 = extrude(cut_extrude_23_sk6.sketch, amount=-CUT_EXTRUDE_23_REACH, mode=Mode.PRIVATE) & part.part
    # 草图38 → 切除-拉伸23 (cut, up to next)
    with BuildSketch(Plane(origin=(0, 0, 45), x_dir=(-1, 0, 0), z_dir=(0, 0, -1)), mode=Mode.PRIVATE) as cut_extrude_23_sk7:
        with BuildLine():
            Line((91.343565249, 22.5), (91.343565249, -12.5))
            ThreePointArc((91.343565249, -12.5), (94.343565249, -15.5), (97.343565249, -12.5))
            Line((97.343565249, -12.5), (97.343565249, 22.5))
            ThreePointArc((97.343565249, 22.5), (94.343565249, 25.5), (91.343565249, 22.5))
        make_face()
    cut_extrude_23_tool7 = extrude(cut_extrude_23_sk7.sketch, amount=-CUT_EXTRUDE_23_REACH, mode=Mode.PRIVATE) & part.part
    # 草图38 → 切除-拉伸23 (cut, up to next)
    with BuildSketch(Plane(origin=(0, 0, 45), x_dir=(-1, 0, 0), z_dir=(0, 0, -1)), mode=Mode.PRIVATE) as cut_extrude_23_sk8:
        with BuildLine():
            Line((75.687130498, 22.5), (75.687130498, -12.5))
            ThreePointArc((75.687130498, -12.5), (78.687130498, -15.5), (81.687130498, -12.5))
            Line((81.687130498, -12.5), (81.687130498, 22.5))
            ThreePointArc((81.687130498, 22.5), (78.687130498, 25.5), (75.687130498, 22.5))
        make_face()
    cut_extrude_23_tool8 = extrude(cut_extrude_23_sk8.sketch, amount=-CUT_EXTRUDE_23_REACH, mode=Mode.PRIVATE) & part.part
    # 草图38 → 切除-拉伸23 (cut, up to next)
    with BuildSketch(Plane(origin=(0, 0, 45), x_dir=(-1, 0, 0), z_dir=(0, 0, -1)), mode=Mode.PRIVATE) as cut_extrude_23_sk9:
        with BuildLine():
            Line((60.030695747, 22.5), (60.030695747, -12.5))
            ThreePointArc((60.030695747, -12.5), (63.030695747, -15.5), (66.030695747, -12.5))
            Line((66.030695747, -12.5), (66.030695747, 22.5))
            ThreePointArc((66.030695747, 22.5), (63.030695747, 25.5), (60.030695747, 22.5))
        make_face()
    cut_extrude_23_tool9 = extrude(cut_extrude_23_sk9.sketch, amount=-CUT_EXTRUDE_23_REACH, mode=Mode.PRIVATE) & part.part
    # 草图38 → 切除-拉伸23 (cut, up to next)
    with BuildSketch(Plane(origin=(0, 0, 45), x_dir=(-1, 0, 0), z_dir=(0, 0, -1)), mode=Mode.PRIVATE) as cut_extrude_23_sk10:
        with BuildLine():
            Line((44.374260997, 22.5), (44.374260997, -12.5))
            ThreePointArc((44.374260997, -12.5), (47.374260997, -15.5), (50.374260997, -12.5))
            Line((50.374260997, -12.5), (50.374260997, 22.5))
            ThreePointArc((50.374260997, 22.5), (47.374260997, 25.5), (44.374260997, 22.5))
        make_face()
    cut_extrude_23_tool10 = extrude(cut_extrude_23_sk10.sketch, amount=-CUT_EXTRUDE_23_REACH, mode=Mode.PRIVATE) & part.part
    add(cut_extrude_23_tool1.solids().sort_by_distance((110, 5, 45))[0], mode=Mode.SUBTRACT)
    add(cut_extrude_23_tool2.solids().sort_by_distance((94.343565, 5, 45))[0], mode=Mode.SUBTRACT)
    add(cut_extrude_23_tool3.solids().sort_by_distance((78.68713, 5, 45))[0], mode=Mode.SUBTRACT)
    add(cut_extrude_23_tool4.solids().sort_by_distance((63.030696, 5, 45))[0], mode=Mode.SUBTRACT)
    add(cut_extrude_23_tool5.solids().sort_by_distance((47.374261, 5, 45))[0], mode=Mode.SUBTRACT)
    add(cut_extrude_23_tool6.solids().sort_by_distance((-110, 5, 45))[0], mode=Mode.SUBTRACT)
    add(cut_extrude_23_tool7.solids().sort_by_distance((-94.343565, 5, 45))[0], mode=Mode.SUBTRACT)
    add(cut_extrude_23_tool8.solids().sort_by_distance((-78.68713, 5, 45))[0], mode=Mode.SUBTRACT)
    add(cut_extrude_23_tool9.solids().sort_by_distance((-63.030696, 5, 45))[0], mode=Mode.SUBTRACT)
    add(cut_extrude_23_tool10.solids().sort_by_distance((-47.374261, 5, 45))[0], mode=Mode.SUBTRACT)

    # 圆角1
    fillet_1_edges = [part.edges().sort_by_distance(p)[0] for p in [
        (26.8, 20, 45),
        (26.8, -10, 45),
        (-33.2, 20, 45),
        (-33.2, -10, 45),
    ]]
    fillet(fillet_1_edges, radius=FILLET_1_R)


solid = part.part
